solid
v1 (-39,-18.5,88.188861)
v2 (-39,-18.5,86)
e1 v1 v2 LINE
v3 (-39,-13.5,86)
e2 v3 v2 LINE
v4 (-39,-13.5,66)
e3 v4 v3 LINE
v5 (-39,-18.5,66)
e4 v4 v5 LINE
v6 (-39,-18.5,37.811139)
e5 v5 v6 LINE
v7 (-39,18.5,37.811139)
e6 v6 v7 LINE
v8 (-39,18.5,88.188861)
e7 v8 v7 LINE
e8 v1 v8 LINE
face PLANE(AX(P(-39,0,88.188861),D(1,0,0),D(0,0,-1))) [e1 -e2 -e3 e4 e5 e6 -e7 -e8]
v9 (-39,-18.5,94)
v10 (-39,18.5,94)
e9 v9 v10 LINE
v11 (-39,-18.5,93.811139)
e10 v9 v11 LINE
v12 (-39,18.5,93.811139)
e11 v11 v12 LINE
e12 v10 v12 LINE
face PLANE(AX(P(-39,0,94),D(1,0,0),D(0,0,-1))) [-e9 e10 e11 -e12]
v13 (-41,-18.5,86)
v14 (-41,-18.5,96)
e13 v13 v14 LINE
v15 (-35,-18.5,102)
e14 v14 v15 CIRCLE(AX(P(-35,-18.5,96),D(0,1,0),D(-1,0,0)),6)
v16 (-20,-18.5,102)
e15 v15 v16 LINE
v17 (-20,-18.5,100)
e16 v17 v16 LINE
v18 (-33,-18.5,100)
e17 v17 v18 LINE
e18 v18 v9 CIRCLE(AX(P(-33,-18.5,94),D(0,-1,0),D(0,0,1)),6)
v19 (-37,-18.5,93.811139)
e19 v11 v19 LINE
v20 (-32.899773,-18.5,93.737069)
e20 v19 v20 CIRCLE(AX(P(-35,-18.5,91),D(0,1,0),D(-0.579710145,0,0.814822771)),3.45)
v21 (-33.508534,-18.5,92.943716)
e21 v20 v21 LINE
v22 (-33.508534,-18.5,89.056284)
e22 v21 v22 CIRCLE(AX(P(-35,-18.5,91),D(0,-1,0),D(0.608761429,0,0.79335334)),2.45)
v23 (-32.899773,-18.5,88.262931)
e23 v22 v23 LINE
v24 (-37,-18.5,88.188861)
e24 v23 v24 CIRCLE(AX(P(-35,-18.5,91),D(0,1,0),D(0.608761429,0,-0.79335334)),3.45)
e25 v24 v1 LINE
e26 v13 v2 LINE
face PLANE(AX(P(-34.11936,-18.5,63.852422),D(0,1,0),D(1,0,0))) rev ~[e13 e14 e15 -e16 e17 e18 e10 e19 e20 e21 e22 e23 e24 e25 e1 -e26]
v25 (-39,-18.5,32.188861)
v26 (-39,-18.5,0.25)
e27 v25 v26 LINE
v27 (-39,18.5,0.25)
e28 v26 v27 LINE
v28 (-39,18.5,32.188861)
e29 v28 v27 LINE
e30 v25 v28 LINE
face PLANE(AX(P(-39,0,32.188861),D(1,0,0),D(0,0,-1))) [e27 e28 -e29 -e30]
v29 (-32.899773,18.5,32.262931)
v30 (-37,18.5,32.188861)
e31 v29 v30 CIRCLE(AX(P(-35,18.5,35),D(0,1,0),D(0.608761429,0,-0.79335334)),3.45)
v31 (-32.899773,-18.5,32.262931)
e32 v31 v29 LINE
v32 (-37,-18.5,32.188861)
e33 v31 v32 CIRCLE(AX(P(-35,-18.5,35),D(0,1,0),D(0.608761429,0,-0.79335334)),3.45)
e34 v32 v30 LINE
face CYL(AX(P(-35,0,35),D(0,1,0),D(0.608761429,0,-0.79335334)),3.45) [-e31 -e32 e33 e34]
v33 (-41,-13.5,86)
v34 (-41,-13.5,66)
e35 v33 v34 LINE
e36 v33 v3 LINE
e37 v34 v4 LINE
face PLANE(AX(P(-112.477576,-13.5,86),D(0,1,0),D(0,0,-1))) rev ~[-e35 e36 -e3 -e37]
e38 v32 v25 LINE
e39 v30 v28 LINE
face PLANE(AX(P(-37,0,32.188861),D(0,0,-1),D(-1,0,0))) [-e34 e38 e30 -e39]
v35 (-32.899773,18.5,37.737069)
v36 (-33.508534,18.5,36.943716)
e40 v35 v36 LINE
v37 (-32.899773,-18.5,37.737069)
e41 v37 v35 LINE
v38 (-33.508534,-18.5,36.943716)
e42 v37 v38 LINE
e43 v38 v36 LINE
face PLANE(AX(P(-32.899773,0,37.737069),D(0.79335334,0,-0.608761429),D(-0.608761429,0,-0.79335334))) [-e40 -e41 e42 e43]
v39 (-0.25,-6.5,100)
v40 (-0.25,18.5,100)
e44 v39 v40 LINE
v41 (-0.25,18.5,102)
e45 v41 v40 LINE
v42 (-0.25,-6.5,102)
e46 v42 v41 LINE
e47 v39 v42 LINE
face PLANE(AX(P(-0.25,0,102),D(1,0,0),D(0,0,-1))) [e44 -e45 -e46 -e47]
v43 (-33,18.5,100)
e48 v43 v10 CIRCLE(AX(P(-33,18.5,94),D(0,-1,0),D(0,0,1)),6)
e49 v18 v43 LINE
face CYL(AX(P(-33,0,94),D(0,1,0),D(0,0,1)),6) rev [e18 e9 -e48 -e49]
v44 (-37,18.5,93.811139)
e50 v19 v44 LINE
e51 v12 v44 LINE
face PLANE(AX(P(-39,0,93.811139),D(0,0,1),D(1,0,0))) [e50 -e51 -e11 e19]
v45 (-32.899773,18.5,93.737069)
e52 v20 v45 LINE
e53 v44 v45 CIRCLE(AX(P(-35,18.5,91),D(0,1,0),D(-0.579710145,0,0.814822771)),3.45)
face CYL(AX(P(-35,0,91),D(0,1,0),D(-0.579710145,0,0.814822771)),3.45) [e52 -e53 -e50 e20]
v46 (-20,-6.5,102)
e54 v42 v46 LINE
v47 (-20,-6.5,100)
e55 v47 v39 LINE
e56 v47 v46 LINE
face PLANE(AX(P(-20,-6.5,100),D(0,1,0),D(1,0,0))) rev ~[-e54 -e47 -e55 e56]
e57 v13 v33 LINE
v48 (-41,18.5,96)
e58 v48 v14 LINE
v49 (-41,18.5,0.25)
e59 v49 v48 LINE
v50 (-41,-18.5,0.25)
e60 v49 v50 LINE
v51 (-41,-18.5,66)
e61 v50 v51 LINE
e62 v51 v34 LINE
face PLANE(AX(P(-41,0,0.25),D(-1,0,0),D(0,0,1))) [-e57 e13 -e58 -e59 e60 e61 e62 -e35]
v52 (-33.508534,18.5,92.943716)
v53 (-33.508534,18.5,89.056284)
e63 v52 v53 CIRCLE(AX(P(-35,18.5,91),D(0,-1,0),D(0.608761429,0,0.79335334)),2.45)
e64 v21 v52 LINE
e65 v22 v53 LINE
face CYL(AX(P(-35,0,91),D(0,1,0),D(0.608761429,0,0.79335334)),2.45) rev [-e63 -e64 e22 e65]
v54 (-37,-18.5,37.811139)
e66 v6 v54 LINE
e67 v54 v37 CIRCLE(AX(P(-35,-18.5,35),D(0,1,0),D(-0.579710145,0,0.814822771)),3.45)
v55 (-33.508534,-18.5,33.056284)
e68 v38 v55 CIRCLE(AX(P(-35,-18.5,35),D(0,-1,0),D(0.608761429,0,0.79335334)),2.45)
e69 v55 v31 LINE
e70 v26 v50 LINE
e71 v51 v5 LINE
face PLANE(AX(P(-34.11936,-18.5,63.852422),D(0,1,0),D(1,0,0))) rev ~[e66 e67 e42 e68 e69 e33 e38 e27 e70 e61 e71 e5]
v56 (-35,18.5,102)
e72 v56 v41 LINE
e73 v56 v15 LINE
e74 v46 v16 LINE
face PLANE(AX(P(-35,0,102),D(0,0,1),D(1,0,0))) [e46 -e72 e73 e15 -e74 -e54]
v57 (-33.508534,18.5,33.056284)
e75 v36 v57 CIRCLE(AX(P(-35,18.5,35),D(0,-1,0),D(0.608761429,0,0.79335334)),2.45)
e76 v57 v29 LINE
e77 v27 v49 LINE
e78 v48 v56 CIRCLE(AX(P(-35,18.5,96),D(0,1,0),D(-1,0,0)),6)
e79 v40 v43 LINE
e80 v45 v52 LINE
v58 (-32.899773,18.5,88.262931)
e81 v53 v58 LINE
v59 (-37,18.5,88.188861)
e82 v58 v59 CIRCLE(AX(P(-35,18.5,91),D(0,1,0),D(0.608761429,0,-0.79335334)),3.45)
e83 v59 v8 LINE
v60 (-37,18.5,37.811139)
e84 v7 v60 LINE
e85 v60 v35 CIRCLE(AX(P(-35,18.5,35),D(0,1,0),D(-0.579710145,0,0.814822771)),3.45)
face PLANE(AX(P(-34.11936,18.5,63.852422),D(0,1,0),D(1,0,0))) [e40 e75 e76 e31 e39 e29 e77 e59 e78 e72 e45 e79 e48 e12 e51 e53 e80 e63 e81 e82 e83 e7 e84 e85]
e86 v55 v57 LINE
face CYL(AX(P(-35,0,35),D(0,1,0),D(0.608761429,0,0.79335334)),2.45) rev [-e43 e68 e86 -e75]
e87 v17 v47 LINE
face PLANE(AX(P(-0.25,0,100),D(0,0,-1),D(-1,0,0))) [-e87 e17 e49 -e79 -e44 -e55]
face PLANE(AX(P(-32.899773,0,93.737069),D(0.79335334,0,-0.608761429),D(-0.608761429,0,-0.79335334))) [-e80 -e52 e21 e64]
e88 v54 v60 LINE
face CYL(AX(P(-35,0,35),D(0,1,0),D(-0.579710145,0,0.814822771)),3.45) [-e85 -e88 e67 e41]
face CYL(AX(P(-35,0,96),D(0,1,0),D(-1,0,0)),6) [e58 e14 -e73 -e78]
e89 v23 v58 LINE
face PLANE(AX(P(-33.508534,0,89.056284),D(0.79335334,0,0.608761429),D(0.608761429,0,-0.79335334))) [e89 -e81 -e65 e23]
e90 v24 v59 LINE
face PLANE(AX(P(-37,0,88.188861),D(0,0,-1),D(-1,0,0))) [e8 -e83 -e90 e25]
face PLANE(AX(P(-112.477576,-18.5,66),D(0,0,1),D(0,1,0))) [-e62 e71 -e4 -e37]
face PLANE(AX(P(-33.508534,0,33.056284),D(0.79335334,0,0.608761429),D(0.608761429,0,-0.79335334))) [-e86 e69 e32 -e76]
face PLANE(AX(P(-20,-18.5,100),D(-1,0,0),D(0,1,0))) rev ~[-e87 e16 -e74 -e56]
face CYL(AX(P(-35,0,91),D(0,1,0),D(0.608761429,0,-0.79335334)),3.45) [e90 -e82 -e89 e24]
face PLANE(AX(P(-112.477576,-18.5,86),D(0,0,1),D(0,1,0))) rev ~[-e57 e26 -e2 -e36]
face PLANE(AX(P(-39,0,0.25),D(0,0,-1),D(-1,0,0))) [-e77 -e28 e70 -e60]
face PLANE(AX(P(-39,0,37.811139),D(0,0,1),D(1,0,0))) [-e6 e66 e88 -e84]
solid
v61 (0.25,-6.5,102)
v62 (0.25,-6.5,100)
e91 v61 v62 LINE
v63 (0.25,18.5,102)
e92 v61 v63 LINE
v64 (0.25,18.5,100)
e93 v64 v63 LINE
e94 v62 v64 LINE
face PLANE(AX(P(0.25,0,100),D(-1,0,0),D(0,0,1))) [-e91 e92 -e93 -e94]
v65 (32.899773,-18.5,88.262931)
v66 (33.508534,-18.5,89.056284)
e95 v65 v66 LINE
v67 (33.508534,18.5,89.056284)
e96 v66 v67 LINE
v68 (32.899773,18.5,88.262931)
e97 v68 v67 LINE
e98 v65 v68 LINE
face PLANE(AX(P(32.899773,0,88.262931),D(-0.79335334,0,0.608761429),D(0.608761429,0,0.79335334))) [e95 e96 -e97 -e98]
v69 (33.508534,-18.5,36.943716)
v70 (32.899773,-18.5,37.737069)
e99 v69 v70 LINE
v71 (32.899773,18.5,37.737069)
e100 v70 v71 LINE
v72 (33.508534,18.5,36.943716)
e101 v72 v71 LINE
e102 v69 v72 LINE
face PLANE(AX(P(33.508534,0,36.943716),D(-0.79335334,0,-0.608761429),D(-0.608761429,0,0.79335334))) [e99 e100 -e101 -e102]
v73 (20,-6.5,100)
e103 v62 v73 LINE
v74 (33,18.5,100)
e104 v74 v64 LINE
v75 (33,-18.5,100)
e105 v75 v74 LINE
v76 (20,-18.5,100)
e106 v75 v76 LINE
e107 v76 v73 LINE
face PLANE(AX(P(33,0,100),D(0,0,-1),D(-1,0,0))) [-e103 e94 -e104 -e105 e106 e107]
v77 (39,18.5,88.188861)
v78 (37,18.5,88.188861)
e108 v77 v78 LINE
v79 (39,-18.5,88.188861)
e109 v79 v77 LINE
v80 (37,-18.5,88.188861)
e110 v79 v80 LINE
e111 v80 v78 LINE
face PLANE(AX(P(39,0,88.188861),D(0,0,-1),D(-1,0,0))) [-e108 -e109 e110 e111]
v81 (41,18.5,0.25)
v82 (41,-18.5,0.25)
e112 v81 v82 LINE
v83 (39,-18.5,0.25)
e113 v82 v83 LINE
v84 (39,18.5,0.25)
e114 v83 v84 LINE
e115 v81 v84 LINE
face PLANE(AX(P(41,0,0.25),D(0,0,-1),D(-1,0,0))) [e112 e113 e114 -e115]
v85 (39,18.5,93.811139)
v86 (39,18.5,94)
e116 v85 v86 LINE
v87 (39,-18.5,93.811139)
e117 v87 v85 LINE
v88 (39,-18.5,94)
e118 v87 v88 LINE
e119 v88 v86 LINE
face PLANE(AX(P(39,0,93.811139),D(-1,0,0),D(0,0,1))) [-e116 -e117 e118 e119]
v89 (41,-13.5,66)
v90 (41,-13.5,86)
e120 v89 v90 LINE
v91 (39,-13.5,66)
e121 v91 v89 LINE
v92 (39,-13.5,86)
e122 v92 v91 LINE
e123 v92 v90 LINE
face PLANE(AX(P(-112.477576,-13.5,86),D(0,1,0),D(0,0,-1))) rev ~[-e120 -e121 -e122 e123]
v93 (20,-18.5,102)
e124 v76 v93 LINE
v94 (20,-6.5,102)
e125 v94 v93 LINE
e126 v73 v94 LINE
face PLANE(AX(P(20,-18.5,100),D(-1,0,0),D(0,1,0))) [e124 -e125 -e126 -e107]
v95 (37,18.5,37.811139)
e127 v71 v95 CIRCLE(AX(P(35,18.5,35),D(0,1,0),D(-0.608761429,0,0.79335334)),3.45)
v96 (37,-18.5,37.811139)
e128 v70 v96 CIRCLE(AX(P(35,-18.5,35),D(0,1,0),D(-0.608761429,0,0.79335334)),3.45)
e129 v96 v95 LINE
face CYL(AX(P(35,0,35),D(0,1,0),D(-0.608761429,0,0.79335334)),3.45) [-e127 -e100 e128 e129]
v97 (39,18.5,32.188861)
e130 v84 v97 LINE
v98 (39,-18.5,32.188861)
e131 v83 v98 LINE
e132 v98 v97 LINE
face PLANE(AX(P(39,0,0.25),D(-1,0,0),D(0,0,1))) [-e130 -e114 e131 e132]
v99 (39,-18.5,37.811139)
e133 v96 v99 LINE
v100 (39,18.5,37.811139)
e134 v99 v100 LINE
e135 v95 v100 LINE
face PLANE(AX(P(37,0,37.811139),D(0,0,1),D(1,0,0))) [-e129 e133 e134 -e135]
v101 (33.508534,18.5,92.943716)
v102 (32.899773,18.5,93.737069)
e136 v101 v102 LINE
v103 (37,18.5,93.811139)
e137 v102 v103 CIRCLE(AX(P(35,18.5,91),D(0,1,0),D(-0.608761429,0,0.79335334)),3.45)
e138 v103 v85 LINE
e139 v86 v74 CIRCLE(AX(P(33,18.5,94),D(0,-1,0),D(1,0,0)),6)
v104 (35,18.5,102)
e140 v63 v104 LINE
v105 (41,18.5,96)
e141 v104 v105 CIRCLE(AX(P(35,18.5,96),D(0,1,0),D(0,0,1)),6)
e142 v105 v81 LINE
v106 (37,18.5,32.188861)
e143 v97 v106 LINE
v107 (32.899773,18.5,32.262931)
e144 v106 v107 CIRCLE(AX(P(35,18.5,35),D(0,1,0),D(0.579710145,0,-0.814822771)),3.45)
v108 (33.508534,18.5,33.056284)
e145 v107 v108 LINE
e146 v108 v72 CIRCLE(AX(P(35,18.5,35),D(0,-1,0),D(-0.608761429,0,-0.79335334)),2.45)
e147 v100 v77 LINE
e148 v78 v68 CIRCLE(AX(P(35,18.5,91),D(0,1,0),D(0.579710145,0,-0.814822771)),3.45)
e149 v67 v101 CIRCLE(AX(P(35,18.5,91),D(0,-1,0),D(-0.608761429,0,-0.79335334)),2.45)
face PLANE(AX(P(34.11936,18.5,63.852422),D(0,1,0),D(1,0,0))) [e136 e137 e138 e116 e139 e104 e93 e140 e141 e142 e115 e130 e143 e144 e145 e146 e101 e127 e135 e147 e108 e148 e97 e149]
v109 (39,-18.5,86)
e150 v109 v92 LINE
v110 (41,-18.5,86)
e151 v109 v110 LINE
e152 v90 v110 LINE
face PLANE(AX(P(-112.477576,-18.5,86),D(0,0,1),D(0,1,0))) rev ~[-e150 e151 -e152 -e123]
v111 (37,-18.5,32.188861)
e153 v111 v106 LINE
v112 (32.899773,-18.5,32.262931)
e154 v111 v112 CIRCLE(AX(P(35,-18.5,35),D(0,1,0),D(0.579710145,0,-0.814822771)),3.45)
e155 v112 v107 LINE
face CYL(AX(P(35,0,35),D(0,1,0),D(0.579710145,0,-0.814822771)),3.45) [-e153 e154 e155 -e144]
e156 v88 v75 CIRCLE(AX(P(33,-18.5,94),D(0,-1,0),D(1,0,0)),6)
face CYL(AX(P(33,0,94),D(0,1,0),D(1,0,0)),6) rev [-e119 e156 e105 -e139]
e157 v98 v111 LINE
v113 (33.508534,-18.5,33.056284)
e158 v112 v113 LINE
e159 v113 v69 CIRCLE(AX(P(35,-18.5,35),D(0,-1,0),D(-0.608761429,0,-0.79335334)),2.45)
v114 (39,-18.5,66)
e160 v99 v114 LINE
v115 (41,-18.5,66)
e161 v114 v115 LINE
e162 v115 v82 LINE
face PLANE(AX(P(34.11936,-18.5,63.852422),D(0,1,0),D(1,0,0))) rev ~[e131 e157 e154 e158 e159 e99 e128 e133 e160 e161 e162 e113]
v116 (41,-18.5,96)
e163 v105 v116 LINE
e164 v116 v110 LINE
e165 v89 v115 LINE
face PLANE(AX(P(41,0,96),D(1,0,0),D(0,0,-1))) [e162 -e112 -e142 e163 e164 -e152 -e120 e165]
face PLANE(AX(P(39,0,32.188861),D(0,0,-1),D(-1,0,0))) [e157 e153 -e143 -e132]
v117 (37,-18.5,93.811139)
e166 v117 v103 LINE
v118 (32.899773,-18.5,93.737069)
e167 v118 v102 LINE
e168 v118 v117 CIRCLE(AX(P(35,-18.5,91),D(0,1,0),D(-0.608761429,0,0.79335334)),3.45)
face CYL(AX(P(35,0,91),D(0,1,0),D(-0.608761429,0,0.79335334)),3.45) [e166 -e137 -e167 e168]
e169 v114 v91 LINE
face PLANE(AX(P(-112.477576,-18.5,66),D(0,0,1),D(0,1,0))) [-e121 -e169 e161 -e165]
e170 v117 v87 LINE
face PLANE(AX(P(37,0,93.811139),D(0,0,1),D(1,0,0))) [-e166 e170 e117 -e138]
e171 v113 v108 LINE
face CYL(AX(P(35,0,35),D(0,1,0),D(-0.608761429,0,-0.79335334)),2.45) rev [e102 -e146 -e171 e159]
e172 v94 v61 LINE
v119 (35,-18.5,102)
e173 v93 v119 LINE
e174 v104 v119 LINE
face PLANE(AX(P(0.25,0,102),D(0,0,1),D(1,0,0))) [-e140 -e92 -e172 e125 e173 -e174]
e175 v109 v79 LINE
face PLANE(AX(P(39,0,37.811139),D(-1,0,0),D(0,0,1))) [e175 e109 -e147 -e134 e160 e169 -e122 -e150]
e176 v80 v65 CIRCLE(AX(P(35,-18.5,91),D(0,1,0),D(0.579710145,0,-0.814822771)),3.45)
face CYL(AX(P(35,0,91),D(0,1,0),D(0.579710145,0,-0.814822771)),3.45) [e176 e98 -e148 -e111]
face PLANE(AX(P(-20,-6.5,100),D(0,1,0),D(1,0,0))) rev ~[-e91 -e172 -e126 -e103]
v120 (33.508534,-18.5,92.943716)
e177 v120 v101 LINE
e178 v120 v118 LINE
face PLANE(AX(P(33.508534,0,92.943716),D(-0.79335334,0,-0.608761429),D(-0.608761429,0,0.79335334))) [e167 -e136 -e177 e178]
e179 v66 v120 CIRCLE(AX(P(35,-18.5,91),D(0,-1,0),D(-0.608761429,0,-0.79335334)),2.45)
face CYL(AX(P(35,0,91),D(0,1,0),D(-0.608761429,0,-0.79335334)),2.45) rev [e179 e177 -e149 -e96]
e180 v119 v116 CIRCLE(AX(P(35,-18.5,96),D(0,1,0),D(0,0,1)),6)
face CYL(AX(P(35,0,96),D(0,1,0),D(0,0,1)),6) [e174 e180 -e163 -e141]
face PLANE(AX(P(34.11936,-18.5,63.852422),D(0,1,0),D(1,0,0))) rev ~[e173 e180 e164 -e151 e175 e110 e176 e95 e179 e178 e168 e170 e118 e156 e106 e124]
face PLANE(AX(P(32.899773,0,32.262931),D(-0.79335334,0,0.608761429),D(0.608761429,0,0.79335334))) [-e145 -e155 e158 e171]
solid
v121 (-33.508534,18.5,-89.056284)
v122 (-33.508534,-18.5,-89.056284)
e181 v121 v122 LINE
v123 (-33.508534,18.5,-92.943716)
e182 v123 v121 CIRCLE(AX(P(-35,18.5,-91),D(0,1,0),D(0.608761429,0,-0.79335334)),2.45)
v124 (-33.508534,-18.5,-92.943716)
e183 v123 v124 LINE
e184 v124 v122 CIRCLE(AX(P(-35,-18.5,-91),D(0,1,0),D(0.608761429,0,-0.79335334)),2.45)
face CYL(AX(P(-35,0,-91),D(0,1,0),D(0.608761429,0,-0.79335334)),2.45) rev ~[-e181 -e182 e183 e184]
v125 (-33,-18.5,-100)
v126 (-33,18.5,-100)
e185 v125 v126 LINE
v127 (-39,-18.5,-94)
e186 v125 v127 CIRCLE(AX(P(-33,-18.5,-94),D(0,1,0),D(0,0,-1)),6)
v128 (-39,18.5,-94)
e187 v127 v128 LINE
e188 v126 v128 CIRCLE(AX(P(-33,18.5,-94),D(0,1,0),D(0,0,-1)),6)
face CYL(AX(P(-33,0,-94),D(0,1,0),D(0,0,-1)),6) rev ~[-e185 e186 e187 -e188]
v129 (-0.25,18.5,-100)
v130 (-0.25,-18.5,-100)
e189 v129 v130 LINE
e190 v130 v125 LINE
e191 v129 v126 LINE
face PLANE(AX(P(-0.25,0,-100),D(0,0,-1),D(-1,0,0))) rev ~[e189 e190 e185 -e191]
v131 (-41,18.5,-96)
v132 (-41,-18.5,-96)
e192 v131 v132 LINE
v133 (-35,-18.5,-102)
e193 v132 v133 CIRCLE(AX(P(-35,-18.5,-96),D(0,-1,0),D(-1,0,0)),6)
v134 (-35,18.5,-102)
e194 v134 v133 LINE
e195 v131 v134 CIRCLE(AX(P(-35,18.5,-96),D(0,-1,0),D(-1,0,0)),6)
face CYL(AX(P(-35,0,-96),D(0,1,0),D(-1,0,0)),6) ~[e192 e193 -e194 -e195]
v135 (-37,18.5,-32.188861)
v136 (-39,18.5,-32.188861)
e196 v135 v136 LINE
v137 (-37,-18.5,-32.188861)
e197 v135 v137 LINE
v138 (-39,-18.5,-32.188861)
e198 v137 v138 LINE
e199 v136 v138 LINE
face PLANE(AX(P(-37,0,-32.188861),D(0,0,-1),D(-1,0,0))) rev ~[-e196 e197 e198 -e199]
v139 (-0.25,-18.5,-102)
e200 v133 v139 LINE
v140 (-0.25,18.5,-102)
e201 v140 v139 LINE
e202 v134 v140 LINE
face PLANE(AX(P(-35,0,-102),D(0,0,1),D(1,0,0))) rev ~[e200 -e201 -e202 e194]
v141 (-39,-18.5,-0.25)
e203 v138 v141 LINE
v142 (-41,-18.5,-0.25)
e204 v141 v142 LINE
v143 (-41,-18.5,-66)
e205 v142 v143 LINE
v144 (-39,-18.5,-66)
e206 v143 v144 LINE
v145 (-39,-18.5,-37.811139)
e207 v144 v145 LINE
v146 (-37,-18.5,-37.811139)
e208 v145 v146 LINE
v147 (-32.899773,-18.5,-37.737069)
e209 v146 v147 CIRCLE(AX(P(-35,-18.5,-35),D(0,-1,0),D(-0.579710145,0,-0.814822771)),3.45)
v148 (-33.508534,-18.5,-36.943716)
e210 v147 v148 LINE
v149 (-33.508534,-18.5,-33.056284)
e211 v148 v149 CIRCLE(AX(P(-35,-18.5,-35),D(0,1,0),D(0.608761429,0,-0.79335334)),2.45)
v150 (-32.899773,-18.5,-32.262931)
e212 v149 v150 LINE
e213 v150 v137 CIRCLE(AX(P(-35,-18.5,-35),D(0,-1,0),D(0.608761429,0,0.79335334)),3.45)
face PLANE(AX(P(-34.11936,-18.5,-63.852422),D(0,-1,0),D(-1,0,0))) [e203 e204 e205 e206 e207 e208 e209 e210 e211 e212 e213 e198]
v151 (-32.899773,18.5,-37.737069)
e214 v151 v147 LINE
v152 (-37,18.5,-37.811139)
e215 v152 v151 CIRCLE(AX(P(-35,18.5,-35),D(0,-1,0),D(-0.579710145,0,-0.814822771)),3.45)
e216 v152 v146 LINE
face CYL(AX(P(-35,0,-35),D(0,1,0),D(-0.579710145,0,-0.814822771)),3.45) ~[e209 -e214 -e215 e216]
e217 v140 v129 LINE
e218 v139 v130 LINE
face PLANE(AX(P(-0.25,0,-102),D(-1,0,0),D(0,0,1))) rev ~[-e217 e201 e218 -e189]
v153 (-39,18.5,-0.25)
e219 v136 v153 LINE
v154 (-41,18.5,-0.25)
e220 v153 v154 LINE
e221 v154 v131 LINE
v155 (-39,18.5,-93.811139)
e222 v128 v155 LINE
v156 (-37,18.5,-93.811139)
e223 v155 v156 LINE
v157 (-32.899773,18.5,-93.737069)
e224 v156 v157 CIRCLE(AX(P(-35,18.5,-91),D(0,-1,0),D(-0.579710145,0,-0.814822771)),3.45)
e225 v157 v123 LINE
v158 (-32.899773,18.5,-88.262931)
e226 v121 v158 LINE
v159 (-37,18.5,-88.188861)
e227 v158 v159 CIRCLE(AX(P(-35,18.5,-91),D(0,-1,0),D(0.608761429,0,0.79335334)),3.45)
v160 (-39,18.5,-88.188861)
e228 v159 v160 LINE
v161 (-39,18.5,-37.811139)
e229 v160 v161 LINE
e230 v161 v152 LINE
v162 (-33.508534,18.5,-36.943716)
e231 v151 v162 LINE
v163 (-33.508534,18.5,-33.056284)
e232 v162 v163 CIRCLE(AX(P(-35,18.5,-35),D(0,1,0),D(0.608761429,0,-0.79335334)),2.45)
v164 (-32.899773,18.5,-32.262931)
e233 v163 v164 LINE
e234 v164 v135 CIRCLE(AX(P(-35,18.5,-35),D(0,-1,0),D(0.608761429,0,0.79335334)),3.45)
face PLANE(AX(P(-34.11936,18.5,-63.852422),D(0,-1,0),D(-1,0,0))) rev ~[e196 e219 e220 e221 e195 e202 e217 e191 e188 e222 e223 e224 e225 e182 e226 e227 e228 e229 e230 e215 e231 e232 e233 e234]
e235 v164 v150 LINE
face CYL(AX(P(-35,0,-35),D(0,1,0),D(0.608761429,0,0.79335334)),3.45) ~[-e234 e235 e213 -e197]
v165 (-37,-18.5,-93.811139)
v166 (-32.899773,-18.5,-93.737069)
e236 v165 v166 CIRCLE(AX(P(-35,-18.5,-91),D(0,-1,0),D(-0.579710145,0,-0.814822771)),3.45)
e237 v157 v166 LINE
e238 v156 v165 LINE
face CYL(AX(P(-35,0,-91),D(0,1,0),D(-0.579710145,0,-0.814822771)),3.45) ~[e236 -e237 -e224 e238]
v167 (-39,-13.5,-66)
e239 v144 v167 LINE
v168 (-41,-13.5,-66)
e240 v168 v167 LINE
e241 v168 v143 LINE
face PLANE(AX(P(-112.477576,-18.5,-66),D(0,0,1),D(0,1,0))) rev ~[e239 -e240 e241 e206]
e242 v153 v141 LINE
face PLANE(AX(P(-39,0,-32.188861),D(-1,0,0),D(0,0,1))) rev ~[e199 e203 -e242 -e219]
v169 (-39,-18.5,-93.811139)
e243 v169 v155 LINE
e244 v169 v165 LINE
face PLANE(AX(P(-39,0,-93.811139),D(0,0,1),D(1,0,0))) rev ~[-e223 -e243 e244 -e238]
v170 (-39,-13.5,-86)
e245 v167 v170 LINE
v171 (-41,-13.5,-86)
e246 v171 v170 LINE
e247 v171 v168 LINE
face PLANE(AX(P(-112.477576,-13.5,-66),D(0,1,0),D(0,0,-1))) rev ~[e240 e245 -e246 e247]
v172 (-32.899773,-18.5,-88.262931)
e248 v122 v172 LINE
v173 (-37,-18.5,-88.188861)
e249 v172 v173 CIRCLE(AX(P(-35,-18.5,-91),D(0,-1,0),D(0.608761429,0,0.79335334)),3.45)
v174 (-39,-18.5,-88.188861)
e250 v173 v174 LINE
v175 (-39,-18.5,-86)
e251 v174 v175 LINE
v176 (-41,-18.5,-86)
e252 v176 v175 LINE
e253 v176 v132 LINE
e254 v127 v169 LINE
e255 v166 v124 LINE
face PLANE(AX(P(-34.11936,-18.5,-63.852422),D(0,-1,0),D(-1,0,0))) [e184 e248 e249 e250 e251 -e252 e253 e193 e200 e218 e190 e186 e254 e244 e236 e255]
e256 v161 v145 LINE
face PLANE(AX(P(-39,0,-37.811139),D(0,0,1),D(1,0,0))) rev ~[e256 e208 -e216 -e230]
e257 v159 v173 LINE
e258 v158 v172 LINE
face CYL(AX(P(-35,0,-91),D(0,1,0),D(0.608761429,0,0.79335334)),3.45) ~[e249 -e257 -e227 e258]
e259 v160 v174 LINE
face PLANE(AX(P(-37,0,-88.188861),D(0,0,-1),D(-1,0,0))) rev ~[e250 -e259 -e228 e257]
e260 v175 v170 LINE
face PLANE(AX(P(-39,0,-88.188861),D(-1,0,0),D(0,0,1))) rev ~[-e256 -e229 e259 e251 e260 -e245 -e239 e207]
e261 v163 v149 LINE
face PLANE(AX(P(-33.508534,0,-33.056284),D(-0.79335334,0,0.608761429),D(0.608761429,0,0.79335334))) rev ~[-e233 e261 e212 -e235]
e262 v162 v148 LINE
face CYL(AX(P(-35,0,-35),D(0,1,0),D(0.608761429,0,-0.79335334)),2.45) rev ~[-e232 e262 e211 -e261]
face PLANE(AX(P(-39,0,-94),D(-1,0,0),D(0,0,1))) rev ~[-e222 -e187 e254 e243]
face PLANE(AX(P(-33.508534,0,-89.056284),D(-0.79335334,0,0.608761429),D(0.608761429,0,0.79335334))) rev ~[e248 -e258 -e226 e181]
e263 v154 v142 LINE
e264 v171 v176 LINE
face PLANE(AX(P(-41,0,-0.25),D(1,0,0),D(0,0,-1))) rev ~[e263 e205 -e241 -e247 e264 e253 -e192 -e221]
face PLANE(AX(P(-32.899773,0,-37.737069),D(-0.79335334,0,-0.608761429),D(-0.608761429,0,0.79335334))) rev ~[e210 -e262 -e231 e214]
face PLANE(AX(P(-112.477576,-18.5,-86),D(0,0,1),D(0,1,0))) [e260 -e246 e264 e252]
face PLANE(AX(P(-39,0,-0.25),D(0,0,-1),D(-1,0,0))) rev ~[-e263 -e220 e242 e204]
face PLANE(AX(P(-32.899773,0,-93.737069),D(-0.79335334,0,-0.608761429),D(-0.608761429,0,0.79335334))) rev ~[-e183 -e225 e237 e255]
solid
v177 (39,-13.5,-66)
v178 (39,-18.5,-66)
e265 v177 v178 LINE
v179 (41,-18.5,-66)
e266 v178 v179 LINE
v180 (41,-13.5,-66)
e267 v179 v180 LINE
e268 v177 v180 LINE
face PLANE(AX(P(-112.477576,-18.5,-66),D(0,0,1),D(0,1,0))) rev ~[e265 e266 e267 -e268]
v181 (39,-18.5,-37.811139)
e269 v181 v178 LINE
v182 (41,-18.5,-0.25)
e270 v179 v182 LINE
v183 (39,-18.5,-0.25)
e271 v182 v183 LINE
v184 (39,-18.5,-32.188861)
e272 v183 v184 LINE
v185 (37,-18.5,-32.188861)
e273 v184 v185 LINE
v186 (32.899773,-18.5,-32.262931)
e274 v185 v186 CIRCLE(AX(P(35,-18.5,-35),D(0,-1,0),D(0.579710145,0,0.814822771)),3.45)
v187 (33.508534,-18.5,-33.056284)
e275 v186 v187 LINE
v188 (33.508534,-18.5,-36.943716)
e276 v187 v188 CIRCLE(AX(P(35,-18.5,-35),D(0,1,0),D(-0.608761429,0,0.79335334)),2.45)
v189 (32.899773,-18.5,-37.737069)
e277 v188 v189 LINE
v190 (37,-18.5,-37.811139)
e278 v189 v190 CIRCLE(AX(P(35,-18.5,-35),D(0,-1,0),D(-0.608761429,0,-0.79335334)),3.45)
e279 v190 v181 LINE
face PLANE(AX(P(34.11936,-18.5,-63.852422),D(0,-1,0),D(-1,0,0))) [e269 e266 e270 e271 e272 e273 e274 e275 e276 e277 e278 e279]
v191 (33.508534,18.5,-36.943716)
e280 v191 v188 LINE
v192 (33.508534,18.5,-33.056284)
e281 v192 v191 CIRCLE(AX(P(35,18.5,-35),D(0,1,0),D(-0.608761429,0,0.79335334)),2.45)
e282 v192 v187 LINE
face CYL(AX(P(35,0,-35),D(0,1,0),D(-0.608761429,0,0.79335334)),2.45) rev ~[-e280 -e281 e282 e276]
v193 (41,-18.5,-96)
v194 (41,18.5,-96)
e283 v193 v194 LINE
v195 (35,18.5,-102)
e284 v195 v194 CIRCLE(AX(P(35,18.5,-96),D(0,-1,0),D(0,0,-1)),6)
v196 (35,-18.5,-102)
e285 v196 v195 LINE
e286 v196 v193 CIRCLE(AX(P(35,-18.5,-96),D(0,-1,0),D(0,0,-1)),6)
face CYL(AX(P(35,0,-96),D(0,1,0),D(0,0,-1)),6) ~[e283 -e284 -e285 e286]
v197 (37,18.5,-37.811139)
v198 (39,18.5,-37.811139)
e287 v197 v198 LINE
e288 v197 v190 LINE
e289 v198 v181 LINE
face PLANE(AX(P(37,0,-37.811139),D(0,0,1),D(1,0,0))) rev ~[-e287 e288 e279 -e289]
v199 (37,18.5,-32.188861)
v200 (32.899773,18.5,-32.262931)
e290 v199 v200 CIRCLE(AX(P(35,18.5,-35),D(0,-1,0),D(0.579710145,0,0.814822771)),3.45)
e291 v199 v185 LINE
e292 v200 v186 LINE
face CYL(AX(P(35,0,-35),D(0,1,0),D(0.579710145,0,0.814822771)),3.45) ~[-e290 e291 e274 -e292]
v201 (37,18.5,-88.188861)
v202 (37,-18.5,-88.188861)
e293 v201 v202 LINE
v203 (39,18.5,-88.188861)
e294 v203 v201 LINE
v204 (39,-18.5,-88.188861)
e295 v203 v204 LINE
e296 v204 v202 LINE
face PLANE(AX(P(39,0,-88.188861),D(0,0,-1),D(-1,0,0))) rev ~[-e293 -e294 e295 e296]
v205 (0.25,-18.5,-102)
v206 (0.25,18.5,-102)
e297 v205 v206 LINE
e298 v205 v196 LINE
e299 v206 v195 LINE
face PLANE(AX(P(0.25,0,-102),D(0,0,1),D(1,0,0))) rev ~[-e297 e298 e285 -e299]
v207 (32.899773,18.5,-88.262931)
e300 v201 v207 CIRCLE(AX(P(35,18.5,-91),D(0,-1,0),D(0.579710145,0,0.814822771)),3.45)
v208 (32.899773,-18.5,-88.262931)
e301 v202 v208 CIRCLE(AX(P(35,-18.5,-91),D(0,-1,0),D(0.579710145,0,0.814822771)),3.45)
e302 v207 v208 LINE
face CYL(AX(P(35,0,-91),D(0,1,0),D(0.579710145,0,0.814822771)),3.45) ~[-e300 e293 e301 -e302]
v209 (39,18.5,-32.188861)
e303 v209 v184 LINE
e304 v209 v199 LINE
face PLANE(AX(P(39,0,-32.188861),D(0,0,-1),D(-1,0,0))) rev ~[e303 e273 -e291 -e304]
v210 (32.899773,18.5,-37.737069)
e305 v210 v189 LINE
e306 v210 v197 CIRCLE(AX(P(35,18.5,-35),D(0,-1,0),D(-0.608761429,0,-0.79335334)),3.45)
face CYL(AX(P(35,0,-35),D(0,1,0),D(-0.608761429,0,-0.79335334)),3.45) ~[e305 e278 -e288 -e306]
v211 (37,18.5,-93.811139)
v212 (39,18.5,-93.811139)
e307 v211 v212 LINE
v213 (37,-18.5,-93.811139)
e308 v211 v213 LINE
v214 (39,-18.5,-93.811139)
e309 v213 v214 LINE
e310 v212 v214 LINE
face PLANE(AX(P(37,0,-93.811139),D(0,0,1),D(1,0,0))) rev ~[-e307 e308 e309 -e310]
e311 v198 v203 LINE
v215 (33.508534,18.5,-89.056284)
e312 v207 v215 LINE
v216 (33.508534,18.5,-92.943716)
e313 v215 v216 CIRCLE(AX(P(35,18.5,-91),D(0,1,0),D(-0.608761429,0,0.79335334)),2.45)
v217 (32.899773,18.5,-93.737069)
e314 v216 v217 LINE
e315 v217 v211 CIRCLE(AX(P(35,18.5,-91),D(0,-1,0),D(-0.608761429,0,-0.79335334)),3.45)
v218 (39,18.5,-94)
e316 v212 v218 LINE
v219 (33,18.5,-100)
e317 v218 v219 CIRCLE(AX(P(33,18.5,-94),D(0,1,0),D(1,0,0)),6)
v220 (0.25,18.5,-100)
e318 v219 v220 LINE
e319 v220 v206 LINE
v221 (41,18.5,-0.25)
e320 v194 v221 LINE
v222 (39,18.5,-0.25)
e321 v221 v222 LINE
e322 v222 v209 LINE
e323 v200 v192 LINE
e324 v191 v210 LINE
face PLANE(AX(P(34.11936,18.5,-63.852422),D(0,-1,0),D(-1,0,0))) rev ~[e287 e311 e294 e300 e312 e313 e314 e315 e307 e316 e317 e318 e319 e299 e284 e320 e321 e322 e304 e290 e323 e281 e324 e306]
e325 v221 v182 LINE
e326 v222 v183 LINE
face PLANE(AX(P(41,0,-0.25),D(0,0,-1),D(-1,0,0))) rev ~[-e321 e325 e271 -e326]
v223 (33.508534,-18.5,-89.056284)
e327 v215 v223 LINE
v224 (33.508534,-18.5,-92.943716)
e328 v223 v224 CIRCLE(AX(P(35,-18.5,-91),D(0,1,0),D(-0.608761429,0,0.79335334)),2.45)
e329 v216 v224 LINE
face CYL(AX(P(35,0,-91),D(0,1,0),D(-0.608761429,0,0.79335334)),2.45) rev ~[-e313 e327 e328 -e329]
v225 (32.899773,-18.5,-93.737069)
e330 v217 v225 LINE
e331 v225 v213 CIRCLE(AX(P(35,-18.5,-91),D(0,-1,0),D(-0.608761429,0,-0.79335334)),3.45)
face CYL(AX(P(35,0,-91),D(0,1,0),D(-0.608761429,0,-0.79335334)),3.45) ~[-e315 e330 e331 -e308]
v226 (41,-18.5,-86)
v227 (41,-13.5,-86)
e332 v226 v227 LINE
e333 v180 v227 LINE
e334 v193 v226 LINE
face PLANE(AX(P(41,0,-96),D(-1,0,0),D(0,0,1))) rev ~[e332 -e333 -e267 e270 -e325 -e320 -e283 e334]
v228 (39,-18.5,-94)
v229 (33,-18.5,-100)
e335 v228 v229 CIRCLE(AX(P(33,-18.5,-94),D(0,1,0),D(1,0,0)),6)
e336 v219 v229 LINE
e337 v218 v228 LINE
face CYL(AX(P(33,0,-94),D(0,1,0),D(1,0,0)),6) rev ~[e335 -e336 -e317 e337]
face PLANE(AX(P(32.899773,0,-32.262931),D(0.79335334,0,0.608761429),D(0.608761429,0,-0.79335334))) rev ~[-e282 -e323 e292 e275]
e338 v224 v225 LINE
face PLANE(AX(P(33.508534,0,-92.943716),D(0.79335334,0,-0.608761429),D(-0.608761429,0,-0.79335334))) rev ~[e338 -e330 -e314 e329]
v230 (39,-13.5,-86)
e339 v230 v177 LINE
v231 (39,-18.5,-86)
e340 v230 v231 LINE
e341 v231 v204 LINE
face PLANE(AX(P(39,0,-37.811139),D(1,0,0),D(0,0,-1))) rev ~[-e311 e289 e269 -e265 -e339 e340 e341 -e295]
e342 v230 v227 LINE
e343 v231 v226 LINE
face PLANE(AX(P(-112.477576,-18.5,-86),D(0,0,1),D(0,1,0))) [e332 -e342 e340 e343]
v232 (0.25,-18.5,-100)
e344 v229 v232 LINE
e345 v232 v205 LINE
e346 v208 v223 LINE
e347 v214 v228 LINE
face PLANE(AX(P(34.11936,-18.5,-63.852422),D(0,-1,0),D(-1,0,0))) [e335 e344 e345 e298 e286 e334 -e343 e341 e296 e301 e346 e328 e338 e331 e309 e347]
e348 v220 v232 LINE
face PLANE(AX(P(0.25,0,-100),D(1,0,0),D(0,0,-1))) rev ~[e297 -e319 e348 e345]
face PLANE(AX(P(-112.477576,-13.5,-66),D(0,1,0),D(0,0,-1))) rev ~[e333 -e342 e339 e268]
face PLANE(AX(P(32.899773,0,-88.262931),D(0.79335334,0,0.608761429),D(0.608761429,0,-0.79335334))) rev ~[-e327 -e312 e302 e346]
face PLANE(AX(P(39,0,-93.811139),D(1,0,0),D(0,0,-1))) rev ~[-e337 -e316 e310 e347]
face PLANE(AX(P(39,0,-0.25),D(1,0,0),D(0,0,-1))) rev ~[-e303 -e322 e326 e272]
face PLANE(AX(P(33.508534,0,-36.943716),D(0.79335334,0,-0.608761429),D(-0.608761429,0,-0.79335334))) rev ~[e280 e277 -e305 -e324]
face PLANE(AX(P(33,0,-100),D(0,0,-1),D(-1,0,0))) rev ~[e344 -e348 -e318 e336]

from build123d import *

# Parameters (mm, degrees)
EXTRUDE_2_DEPTH          = 18.5
EXTRUDE_2_2_DEPTH        = 18.5
EXTRUDE_2_3_DEPTH        = 18.5
EXTRUDE_2_4_DEPTH        = 18.5
CUT_EXTRUDE_START        = 100
SKETCH_3_W               = 40
SKETCH_3_H               = 12
CUT_EXTRUDE_2_DEPTH      = 12.477576221
CUT_EXTRUDE_3_DEPTH      = 112.477576221
CUT_EXTRUDE_3_DEPTH_BACK = 112.477576221
SKETCH_4_W               = 20
SKETCH_4_H               = 5


with BuildPart() as part:
    # Эскиз1 → Бобышка-Вытянуть2 (new, symmetric)
    with BuildSketch(Plane(origin=(0, 0, 0), x_dir=(1, 0, 0), z_dir=(0, 1, 0))):
        with BuildLine():
            Line((-39, 93.811138559), (-37, 93.811138559))
            ThreePointArc((-37, 93.811138559), (-34.937686812, 94.44943721), (-32.89977307, 93.737069024))
            Line((-32.89977307, 93.737069024), (-33.508534499, 92.943715684))
            ThreePointArc((-33.508534499, 92.943715684), (-37.45, 91), (-33.508534499, 89.056284316))
            Line((-33.508534499, 89.056284316), (-32.89977307, 88.262930976))
            ThreePointArc((-32.89977307, 88.262930976), (-34.937686812, 87.55056279), (-37, 88.188861441))
            Line((-37, 88.188861441), (-39, 88.188861441))
            Line((-39, 88.188861441), (-39, 37.811138559))
            Line((-39, 37.811138559), (-37, 37.811138559))
            ThreePointArc((-37, 37.811138559), (-34.937686812, 38.44943721), (-32.89977307, 37.737069024))
            Line((-32.89977307, 37.737069024), (-33.508534499, 36.943715684))
            ThreePointArc((-33.508534499, 36.943715684), (-37.45, 35), (-33.508534499, 33.056284316))
            Line((-33.508534499, 33.056284316), (-32.89977307, 32.262930976))
            ThreePointArc((-32.89977307, 32.262930976), (-34.937686812, 31.55056279), (-37, 32.188861441))
            Line((-37, 32.188861441), (-39, 32.188861441))
            Line((-39, 32.188861441), (-39, 0.25))
            Line((-39, 0.25), (-41, 0.25))
            Line((-41, 0.25), (-41, 96))
            ThreePointArc((-41, 96), (-39.242640687, 100.242640687), (-35, 102))
            Line((-35, 102), (-0.25, 102))
            Line((-0.25, 102), (-0.25, 100))
            Line((-0.25, 100), (-33, 100))
            ThreePointArc((-33, 100), (-37.242640687, 98.242640687), (-39, 94))
            Line((-39, 94), (-39, 93.811138559))
        make_face()
    extrude(amount=EXTRUDE_2_DEPTH, both=True)


with BuildPart() as body_2:
    # Эскиз1 → Extrude 2 2 (new, symmetric)
    with BuildSketch(Plane(origin=(0, 0, 0), x_dir=(1, 0, 0), z_dir=(0, 1, 0))):
        with BuildLine():
            Line((-35, -102), (-0.25, -102))
            Line((-0.25, -102), (-0.25, -100))
            Line((-0.25, -100), (-33, -100))
            ThreePointArc((-33, -100), (-37.242640687, -98.242640687), (-39, -94))
            Line((-39, -94), (-39, -93.811138559))
            Line((-39, -93.811138559), (-37, -93.811138559))
            ThreePointArc((-37, -93.811138559), (-34.937686812, -94.44943721), (-32.89977307, -93.737069024))
            Line((-32.89977307, -93.737069024), (-33.508534499, -92.943715684))
            ThreePointArc((-33.508534499, -92.943715684), (-37.45, -91), (-33.508534499, -89.056284316))
            Line((-33.508534499, -89.056284316), (-32.89977307, -88.262930976))
            ThreePointArc((-32.89977307, -88.262930976), (-34.937686812, -87.55056279), (-37, -88.188861441))
            Line((-37, -88.188861441), (-39, -88.188861441))
            Line((-39, -88.188861441), (-39, -37.811138559))
            Line((-39, -37.811138559), (-37, -37.811138559))
            ThreePointArc((-37, -37.811138559), (-34.937686812, -38.44943721), (-32.89977307, -37.737069024))
            Line((-32.89977307, -37.737069024), (-33.508534499, -36.943715684))
            ThreePointArc((-33.508534499, -36.943715684), (-37.45, -35), (-33.508534499, -33.056284316))
            Line((-33.508534499, -33.056284316), (-32.89977307, -32.262930976))
            ThreePointArc((-32.89977307, -32.262930976), (-34.937686812, -31.55056279), (-37, -32.188861441))
            Line((-37, -32.188861441), (-39, -32.188861441))
            Line((-39, -32.188861441), (-39, -0.25))
            Line((-39, -0.25), (-41, -0.25))
            Line((-41, -0.25), (-41, -96))
            ThreePointArc((-41, -96), (-39.242640687, -100.242640687), (-35, -102))
        make_face()
    extrude(amount=EXTRUDE_2_2_DEPTH, both=True)


with BuildPart() as body_3:
    # Эскиз1 → Extrude 2 3 (new, symmetric)
    with BuildSketch(Plane(origin=(0, 0, 0), x_dir=(1, 0, 0), z_dir=(0, 1, 0))):
        with BuildLine():
            Line((41, 96), (41, 0.25))
            Line((41, 0.25), (39, 0.25))
            Line((39, 0.25), (39, 32.188861441))
            Line((39, 32.188861441), (37, 32.188861441))
            ThreePointArc((37, 32.188861441), (34.937686812, 31.55056279), (32.89977307, 32.262930976))
            Line((32.89977307, 32.262930976), (33.508534499, 33.056284316))
            ThreePointArc((33.508534499, 33.056284316), (37.45, 35), (33.508534499, 36.943715684))
            Line((33.508534499, 36.943715684), (32.89977307, 37.737069024))
            ThreePointArc((32.89977307, 37.737069024), (34.937686812, 38.44943721), (37, 37.811138559))
            Line((37, 37.811138559), (39, 37.811138559))
            Line((39, 37.811138559), (39, 88.188861441))
            Line((39, 88.188861441), (37, 88.188861441))
            ThreePointArc((37, 88.188861441), (34.937686812, 87.55056279), (32.89977307, 88.262930976))
            Line((32.89977307, 88.262930976), (33.508534499, 89.056284316))
            ThreePointArc((33.508534499, 89.056284316), (37.45, 91), (33.508534499, 92.943715684))
            Line((33.508534499, 92.943715684), (32.89977307, 93.737069024))
            ThreePointArc((32.89977307, 93.737069024), (34.937686812, 94.44943721), (37, 93.811138559))
            Line((37, 93.811138559), (39, 93.811138559))
            Line((39, 93.811138559), (39, 94))
            ThreePointArc((39, 94), (37.242640687, 98.242640687), (33, 100))
            Line((33, 100), (0.25, 100))
            Line((0.25, 100), (0.25, 102))
            Line((0.25, 102), (35, 102))
            ThreePointArc((35, 102), (39.242640687, 100.242640687), (41, 96))
        make_face()
    extrude(amount=EXTRUDE_2_3_DEPTH, both=True)


with BuildPart() as body_4:
    # Эскиз1 → Extrude 2 4 (new, symmetric)
    with BuildSketch(Plane(origin=(0, 0, 0), x_dir=(1, 0, 0), z_dir=(0, 1, 0))):
        with BuildLine():
            Line((41, -0.25), (39, -0.25))
            Line((39, -0.25), (39, -32.188861441))
            Line((39, -32.188861441), (37, -32.188861441))
            ThreePointArc((37, -32.188861441), (34.937686812, -31.55056279), (32.89977307, -32.262930976))
            Line((32.89977307, -32.262930976), (33.508534499, -33.056284316))
            ThreePointArc((33.508534499, -33.056284316), (37.45, -35), (33.508534499, -36.943715684))
            Line((33.508534499, -36.943715684), (32.89977307, -37.737069024))
            ThreePointArc((32.89977307, -37.737069024), (34.937686812, -38.44943721), (37, -37.811138559))
            Line((37, -37.811138559), (39, -37.811138559))
            Line((39, -37.811138559), (39, -88.188861441))
            Line((39, -88.188861441), (37, -88.188861441))
            ThreePointArc((37, -88.188861441), (34.937686812, -87.55056279), (32.89977307, -88.262930976))
            Line((32.89977307, -88.262930976), (33.508534499, -89.056284316))
            ThreePointArc((33.508534499, -89.056284316), (37.45, -91), (33.508534499, -92.943715684))
            Line((33.508534499, -92.943715684), (32.89977307, -93.737069024))
            ThreePointArc((32.89977307, -93.737069024), (34.937686812, -94.44943721), (37, -93.811138559))
            Line((37, -93.811138559), (39, -93.811138559))
            Line((39, -93.811138559), (39, -94))
            ThreePointArc((39, -94), (37.242640687, -98.242640687), (33, -100))
            Line((33, -100), (0.25, -100))
            Line((0.25, -100), (0.25, -102))
            Line((0.25, -102), (35, -102))
            ThreePointArc((35, -102), (39.242640687, -100.242640687), (41, -96))
            Line((41, -96), (41, -0.25))
        make_face()
    extrude(amount=EXTRUDE_2_4_DEPTH, both=True)


with BuildPart() as cut_extrude_2_tool:
    # Эскиз3 → Вырез-Вытянуть2 (new, through all)
    with BuildSketch(Plane.XY.offset(CUT_EXTRUDE_START)):
        with Locations((0, -12.5)):
            Rectangle(SKETCH_3_W, SKETCH_3_H)
    extrude(amount=CUT_EXTRUDE_2_DEPTH)


with BuildPart() as body_2_1:
    add(body_2.part)

    # Вырез-Вытянуть2: cut by cut_extrude_2_tool
    add(cut_extrude_2_tool.part, mode=Mode.SUBTRACT)


with BuildPart() as body_4_1:
    add(body_4.part)

    # Вырез-Вытянуть2: cut by cut_extrude_2_tool
    add(cut_extrude_2_tool.part, mode=Mode.SUBTRACT)


with BuildPart() as cut_extrude_3_tool:
    # Эскиз4 → Вырез-Вытянуть3 (new, two sides: drawn at the far end of the back side and taken through both)
    with BuildSketch(Plane(origin=(0, 0, 0), x_dir=(0, 0, -1), z_dir=(1, 0, 0)).offset(-CUT_EXTRUDE_3_DEPTH_BACK)):
        with Locations((-76, -16)):
            Rectangle(SKETCH_4_W, SKETCH_4_H)
        with Locations((76, -16)):
            Rectangle(SKETCH_4_W, SKETCH_4_H)
    extrude(amount=CUT_EXTRUDE_3_DEPTH + CUT_EXTRUDE_3_DEPTH_BACK)


with BuildPart() as part_1:
    add(part.part)

    # Вырез-Вытянуть3: cut by cut_extrude_3_tool
    add(cut_extrude_3_tool.part, mode=Mode.SUBTRACT)


with BuildPart() as body_2_2:
    add(body_2_1.part)

    # Вырез-Вытянуть3: cut by cut_extrude_3_tool
    add(cut_extrude_3_tool.part, mode=Mode.SUBTRACT)


with BuildPart() as body_3_1:
    add(body_3.part)

    # Вырез-Вытянуть3: cut by cut_extrude_3_tool
    add(cut_extrude_3_tool.part, mode=Mode.SUBTRACT)


with BuildPart() as body_4_2:
    add(body_4_1.part)

    # Вырез-Вытянуть3: cut by cut_extrude_3_tool
    add(cut_extrude_3_tool.part, mode=Mode.SUBTRACT)


solid = Compound([part_1.part, body_2_2.part, body_3_1.part, body_4_2.part])
